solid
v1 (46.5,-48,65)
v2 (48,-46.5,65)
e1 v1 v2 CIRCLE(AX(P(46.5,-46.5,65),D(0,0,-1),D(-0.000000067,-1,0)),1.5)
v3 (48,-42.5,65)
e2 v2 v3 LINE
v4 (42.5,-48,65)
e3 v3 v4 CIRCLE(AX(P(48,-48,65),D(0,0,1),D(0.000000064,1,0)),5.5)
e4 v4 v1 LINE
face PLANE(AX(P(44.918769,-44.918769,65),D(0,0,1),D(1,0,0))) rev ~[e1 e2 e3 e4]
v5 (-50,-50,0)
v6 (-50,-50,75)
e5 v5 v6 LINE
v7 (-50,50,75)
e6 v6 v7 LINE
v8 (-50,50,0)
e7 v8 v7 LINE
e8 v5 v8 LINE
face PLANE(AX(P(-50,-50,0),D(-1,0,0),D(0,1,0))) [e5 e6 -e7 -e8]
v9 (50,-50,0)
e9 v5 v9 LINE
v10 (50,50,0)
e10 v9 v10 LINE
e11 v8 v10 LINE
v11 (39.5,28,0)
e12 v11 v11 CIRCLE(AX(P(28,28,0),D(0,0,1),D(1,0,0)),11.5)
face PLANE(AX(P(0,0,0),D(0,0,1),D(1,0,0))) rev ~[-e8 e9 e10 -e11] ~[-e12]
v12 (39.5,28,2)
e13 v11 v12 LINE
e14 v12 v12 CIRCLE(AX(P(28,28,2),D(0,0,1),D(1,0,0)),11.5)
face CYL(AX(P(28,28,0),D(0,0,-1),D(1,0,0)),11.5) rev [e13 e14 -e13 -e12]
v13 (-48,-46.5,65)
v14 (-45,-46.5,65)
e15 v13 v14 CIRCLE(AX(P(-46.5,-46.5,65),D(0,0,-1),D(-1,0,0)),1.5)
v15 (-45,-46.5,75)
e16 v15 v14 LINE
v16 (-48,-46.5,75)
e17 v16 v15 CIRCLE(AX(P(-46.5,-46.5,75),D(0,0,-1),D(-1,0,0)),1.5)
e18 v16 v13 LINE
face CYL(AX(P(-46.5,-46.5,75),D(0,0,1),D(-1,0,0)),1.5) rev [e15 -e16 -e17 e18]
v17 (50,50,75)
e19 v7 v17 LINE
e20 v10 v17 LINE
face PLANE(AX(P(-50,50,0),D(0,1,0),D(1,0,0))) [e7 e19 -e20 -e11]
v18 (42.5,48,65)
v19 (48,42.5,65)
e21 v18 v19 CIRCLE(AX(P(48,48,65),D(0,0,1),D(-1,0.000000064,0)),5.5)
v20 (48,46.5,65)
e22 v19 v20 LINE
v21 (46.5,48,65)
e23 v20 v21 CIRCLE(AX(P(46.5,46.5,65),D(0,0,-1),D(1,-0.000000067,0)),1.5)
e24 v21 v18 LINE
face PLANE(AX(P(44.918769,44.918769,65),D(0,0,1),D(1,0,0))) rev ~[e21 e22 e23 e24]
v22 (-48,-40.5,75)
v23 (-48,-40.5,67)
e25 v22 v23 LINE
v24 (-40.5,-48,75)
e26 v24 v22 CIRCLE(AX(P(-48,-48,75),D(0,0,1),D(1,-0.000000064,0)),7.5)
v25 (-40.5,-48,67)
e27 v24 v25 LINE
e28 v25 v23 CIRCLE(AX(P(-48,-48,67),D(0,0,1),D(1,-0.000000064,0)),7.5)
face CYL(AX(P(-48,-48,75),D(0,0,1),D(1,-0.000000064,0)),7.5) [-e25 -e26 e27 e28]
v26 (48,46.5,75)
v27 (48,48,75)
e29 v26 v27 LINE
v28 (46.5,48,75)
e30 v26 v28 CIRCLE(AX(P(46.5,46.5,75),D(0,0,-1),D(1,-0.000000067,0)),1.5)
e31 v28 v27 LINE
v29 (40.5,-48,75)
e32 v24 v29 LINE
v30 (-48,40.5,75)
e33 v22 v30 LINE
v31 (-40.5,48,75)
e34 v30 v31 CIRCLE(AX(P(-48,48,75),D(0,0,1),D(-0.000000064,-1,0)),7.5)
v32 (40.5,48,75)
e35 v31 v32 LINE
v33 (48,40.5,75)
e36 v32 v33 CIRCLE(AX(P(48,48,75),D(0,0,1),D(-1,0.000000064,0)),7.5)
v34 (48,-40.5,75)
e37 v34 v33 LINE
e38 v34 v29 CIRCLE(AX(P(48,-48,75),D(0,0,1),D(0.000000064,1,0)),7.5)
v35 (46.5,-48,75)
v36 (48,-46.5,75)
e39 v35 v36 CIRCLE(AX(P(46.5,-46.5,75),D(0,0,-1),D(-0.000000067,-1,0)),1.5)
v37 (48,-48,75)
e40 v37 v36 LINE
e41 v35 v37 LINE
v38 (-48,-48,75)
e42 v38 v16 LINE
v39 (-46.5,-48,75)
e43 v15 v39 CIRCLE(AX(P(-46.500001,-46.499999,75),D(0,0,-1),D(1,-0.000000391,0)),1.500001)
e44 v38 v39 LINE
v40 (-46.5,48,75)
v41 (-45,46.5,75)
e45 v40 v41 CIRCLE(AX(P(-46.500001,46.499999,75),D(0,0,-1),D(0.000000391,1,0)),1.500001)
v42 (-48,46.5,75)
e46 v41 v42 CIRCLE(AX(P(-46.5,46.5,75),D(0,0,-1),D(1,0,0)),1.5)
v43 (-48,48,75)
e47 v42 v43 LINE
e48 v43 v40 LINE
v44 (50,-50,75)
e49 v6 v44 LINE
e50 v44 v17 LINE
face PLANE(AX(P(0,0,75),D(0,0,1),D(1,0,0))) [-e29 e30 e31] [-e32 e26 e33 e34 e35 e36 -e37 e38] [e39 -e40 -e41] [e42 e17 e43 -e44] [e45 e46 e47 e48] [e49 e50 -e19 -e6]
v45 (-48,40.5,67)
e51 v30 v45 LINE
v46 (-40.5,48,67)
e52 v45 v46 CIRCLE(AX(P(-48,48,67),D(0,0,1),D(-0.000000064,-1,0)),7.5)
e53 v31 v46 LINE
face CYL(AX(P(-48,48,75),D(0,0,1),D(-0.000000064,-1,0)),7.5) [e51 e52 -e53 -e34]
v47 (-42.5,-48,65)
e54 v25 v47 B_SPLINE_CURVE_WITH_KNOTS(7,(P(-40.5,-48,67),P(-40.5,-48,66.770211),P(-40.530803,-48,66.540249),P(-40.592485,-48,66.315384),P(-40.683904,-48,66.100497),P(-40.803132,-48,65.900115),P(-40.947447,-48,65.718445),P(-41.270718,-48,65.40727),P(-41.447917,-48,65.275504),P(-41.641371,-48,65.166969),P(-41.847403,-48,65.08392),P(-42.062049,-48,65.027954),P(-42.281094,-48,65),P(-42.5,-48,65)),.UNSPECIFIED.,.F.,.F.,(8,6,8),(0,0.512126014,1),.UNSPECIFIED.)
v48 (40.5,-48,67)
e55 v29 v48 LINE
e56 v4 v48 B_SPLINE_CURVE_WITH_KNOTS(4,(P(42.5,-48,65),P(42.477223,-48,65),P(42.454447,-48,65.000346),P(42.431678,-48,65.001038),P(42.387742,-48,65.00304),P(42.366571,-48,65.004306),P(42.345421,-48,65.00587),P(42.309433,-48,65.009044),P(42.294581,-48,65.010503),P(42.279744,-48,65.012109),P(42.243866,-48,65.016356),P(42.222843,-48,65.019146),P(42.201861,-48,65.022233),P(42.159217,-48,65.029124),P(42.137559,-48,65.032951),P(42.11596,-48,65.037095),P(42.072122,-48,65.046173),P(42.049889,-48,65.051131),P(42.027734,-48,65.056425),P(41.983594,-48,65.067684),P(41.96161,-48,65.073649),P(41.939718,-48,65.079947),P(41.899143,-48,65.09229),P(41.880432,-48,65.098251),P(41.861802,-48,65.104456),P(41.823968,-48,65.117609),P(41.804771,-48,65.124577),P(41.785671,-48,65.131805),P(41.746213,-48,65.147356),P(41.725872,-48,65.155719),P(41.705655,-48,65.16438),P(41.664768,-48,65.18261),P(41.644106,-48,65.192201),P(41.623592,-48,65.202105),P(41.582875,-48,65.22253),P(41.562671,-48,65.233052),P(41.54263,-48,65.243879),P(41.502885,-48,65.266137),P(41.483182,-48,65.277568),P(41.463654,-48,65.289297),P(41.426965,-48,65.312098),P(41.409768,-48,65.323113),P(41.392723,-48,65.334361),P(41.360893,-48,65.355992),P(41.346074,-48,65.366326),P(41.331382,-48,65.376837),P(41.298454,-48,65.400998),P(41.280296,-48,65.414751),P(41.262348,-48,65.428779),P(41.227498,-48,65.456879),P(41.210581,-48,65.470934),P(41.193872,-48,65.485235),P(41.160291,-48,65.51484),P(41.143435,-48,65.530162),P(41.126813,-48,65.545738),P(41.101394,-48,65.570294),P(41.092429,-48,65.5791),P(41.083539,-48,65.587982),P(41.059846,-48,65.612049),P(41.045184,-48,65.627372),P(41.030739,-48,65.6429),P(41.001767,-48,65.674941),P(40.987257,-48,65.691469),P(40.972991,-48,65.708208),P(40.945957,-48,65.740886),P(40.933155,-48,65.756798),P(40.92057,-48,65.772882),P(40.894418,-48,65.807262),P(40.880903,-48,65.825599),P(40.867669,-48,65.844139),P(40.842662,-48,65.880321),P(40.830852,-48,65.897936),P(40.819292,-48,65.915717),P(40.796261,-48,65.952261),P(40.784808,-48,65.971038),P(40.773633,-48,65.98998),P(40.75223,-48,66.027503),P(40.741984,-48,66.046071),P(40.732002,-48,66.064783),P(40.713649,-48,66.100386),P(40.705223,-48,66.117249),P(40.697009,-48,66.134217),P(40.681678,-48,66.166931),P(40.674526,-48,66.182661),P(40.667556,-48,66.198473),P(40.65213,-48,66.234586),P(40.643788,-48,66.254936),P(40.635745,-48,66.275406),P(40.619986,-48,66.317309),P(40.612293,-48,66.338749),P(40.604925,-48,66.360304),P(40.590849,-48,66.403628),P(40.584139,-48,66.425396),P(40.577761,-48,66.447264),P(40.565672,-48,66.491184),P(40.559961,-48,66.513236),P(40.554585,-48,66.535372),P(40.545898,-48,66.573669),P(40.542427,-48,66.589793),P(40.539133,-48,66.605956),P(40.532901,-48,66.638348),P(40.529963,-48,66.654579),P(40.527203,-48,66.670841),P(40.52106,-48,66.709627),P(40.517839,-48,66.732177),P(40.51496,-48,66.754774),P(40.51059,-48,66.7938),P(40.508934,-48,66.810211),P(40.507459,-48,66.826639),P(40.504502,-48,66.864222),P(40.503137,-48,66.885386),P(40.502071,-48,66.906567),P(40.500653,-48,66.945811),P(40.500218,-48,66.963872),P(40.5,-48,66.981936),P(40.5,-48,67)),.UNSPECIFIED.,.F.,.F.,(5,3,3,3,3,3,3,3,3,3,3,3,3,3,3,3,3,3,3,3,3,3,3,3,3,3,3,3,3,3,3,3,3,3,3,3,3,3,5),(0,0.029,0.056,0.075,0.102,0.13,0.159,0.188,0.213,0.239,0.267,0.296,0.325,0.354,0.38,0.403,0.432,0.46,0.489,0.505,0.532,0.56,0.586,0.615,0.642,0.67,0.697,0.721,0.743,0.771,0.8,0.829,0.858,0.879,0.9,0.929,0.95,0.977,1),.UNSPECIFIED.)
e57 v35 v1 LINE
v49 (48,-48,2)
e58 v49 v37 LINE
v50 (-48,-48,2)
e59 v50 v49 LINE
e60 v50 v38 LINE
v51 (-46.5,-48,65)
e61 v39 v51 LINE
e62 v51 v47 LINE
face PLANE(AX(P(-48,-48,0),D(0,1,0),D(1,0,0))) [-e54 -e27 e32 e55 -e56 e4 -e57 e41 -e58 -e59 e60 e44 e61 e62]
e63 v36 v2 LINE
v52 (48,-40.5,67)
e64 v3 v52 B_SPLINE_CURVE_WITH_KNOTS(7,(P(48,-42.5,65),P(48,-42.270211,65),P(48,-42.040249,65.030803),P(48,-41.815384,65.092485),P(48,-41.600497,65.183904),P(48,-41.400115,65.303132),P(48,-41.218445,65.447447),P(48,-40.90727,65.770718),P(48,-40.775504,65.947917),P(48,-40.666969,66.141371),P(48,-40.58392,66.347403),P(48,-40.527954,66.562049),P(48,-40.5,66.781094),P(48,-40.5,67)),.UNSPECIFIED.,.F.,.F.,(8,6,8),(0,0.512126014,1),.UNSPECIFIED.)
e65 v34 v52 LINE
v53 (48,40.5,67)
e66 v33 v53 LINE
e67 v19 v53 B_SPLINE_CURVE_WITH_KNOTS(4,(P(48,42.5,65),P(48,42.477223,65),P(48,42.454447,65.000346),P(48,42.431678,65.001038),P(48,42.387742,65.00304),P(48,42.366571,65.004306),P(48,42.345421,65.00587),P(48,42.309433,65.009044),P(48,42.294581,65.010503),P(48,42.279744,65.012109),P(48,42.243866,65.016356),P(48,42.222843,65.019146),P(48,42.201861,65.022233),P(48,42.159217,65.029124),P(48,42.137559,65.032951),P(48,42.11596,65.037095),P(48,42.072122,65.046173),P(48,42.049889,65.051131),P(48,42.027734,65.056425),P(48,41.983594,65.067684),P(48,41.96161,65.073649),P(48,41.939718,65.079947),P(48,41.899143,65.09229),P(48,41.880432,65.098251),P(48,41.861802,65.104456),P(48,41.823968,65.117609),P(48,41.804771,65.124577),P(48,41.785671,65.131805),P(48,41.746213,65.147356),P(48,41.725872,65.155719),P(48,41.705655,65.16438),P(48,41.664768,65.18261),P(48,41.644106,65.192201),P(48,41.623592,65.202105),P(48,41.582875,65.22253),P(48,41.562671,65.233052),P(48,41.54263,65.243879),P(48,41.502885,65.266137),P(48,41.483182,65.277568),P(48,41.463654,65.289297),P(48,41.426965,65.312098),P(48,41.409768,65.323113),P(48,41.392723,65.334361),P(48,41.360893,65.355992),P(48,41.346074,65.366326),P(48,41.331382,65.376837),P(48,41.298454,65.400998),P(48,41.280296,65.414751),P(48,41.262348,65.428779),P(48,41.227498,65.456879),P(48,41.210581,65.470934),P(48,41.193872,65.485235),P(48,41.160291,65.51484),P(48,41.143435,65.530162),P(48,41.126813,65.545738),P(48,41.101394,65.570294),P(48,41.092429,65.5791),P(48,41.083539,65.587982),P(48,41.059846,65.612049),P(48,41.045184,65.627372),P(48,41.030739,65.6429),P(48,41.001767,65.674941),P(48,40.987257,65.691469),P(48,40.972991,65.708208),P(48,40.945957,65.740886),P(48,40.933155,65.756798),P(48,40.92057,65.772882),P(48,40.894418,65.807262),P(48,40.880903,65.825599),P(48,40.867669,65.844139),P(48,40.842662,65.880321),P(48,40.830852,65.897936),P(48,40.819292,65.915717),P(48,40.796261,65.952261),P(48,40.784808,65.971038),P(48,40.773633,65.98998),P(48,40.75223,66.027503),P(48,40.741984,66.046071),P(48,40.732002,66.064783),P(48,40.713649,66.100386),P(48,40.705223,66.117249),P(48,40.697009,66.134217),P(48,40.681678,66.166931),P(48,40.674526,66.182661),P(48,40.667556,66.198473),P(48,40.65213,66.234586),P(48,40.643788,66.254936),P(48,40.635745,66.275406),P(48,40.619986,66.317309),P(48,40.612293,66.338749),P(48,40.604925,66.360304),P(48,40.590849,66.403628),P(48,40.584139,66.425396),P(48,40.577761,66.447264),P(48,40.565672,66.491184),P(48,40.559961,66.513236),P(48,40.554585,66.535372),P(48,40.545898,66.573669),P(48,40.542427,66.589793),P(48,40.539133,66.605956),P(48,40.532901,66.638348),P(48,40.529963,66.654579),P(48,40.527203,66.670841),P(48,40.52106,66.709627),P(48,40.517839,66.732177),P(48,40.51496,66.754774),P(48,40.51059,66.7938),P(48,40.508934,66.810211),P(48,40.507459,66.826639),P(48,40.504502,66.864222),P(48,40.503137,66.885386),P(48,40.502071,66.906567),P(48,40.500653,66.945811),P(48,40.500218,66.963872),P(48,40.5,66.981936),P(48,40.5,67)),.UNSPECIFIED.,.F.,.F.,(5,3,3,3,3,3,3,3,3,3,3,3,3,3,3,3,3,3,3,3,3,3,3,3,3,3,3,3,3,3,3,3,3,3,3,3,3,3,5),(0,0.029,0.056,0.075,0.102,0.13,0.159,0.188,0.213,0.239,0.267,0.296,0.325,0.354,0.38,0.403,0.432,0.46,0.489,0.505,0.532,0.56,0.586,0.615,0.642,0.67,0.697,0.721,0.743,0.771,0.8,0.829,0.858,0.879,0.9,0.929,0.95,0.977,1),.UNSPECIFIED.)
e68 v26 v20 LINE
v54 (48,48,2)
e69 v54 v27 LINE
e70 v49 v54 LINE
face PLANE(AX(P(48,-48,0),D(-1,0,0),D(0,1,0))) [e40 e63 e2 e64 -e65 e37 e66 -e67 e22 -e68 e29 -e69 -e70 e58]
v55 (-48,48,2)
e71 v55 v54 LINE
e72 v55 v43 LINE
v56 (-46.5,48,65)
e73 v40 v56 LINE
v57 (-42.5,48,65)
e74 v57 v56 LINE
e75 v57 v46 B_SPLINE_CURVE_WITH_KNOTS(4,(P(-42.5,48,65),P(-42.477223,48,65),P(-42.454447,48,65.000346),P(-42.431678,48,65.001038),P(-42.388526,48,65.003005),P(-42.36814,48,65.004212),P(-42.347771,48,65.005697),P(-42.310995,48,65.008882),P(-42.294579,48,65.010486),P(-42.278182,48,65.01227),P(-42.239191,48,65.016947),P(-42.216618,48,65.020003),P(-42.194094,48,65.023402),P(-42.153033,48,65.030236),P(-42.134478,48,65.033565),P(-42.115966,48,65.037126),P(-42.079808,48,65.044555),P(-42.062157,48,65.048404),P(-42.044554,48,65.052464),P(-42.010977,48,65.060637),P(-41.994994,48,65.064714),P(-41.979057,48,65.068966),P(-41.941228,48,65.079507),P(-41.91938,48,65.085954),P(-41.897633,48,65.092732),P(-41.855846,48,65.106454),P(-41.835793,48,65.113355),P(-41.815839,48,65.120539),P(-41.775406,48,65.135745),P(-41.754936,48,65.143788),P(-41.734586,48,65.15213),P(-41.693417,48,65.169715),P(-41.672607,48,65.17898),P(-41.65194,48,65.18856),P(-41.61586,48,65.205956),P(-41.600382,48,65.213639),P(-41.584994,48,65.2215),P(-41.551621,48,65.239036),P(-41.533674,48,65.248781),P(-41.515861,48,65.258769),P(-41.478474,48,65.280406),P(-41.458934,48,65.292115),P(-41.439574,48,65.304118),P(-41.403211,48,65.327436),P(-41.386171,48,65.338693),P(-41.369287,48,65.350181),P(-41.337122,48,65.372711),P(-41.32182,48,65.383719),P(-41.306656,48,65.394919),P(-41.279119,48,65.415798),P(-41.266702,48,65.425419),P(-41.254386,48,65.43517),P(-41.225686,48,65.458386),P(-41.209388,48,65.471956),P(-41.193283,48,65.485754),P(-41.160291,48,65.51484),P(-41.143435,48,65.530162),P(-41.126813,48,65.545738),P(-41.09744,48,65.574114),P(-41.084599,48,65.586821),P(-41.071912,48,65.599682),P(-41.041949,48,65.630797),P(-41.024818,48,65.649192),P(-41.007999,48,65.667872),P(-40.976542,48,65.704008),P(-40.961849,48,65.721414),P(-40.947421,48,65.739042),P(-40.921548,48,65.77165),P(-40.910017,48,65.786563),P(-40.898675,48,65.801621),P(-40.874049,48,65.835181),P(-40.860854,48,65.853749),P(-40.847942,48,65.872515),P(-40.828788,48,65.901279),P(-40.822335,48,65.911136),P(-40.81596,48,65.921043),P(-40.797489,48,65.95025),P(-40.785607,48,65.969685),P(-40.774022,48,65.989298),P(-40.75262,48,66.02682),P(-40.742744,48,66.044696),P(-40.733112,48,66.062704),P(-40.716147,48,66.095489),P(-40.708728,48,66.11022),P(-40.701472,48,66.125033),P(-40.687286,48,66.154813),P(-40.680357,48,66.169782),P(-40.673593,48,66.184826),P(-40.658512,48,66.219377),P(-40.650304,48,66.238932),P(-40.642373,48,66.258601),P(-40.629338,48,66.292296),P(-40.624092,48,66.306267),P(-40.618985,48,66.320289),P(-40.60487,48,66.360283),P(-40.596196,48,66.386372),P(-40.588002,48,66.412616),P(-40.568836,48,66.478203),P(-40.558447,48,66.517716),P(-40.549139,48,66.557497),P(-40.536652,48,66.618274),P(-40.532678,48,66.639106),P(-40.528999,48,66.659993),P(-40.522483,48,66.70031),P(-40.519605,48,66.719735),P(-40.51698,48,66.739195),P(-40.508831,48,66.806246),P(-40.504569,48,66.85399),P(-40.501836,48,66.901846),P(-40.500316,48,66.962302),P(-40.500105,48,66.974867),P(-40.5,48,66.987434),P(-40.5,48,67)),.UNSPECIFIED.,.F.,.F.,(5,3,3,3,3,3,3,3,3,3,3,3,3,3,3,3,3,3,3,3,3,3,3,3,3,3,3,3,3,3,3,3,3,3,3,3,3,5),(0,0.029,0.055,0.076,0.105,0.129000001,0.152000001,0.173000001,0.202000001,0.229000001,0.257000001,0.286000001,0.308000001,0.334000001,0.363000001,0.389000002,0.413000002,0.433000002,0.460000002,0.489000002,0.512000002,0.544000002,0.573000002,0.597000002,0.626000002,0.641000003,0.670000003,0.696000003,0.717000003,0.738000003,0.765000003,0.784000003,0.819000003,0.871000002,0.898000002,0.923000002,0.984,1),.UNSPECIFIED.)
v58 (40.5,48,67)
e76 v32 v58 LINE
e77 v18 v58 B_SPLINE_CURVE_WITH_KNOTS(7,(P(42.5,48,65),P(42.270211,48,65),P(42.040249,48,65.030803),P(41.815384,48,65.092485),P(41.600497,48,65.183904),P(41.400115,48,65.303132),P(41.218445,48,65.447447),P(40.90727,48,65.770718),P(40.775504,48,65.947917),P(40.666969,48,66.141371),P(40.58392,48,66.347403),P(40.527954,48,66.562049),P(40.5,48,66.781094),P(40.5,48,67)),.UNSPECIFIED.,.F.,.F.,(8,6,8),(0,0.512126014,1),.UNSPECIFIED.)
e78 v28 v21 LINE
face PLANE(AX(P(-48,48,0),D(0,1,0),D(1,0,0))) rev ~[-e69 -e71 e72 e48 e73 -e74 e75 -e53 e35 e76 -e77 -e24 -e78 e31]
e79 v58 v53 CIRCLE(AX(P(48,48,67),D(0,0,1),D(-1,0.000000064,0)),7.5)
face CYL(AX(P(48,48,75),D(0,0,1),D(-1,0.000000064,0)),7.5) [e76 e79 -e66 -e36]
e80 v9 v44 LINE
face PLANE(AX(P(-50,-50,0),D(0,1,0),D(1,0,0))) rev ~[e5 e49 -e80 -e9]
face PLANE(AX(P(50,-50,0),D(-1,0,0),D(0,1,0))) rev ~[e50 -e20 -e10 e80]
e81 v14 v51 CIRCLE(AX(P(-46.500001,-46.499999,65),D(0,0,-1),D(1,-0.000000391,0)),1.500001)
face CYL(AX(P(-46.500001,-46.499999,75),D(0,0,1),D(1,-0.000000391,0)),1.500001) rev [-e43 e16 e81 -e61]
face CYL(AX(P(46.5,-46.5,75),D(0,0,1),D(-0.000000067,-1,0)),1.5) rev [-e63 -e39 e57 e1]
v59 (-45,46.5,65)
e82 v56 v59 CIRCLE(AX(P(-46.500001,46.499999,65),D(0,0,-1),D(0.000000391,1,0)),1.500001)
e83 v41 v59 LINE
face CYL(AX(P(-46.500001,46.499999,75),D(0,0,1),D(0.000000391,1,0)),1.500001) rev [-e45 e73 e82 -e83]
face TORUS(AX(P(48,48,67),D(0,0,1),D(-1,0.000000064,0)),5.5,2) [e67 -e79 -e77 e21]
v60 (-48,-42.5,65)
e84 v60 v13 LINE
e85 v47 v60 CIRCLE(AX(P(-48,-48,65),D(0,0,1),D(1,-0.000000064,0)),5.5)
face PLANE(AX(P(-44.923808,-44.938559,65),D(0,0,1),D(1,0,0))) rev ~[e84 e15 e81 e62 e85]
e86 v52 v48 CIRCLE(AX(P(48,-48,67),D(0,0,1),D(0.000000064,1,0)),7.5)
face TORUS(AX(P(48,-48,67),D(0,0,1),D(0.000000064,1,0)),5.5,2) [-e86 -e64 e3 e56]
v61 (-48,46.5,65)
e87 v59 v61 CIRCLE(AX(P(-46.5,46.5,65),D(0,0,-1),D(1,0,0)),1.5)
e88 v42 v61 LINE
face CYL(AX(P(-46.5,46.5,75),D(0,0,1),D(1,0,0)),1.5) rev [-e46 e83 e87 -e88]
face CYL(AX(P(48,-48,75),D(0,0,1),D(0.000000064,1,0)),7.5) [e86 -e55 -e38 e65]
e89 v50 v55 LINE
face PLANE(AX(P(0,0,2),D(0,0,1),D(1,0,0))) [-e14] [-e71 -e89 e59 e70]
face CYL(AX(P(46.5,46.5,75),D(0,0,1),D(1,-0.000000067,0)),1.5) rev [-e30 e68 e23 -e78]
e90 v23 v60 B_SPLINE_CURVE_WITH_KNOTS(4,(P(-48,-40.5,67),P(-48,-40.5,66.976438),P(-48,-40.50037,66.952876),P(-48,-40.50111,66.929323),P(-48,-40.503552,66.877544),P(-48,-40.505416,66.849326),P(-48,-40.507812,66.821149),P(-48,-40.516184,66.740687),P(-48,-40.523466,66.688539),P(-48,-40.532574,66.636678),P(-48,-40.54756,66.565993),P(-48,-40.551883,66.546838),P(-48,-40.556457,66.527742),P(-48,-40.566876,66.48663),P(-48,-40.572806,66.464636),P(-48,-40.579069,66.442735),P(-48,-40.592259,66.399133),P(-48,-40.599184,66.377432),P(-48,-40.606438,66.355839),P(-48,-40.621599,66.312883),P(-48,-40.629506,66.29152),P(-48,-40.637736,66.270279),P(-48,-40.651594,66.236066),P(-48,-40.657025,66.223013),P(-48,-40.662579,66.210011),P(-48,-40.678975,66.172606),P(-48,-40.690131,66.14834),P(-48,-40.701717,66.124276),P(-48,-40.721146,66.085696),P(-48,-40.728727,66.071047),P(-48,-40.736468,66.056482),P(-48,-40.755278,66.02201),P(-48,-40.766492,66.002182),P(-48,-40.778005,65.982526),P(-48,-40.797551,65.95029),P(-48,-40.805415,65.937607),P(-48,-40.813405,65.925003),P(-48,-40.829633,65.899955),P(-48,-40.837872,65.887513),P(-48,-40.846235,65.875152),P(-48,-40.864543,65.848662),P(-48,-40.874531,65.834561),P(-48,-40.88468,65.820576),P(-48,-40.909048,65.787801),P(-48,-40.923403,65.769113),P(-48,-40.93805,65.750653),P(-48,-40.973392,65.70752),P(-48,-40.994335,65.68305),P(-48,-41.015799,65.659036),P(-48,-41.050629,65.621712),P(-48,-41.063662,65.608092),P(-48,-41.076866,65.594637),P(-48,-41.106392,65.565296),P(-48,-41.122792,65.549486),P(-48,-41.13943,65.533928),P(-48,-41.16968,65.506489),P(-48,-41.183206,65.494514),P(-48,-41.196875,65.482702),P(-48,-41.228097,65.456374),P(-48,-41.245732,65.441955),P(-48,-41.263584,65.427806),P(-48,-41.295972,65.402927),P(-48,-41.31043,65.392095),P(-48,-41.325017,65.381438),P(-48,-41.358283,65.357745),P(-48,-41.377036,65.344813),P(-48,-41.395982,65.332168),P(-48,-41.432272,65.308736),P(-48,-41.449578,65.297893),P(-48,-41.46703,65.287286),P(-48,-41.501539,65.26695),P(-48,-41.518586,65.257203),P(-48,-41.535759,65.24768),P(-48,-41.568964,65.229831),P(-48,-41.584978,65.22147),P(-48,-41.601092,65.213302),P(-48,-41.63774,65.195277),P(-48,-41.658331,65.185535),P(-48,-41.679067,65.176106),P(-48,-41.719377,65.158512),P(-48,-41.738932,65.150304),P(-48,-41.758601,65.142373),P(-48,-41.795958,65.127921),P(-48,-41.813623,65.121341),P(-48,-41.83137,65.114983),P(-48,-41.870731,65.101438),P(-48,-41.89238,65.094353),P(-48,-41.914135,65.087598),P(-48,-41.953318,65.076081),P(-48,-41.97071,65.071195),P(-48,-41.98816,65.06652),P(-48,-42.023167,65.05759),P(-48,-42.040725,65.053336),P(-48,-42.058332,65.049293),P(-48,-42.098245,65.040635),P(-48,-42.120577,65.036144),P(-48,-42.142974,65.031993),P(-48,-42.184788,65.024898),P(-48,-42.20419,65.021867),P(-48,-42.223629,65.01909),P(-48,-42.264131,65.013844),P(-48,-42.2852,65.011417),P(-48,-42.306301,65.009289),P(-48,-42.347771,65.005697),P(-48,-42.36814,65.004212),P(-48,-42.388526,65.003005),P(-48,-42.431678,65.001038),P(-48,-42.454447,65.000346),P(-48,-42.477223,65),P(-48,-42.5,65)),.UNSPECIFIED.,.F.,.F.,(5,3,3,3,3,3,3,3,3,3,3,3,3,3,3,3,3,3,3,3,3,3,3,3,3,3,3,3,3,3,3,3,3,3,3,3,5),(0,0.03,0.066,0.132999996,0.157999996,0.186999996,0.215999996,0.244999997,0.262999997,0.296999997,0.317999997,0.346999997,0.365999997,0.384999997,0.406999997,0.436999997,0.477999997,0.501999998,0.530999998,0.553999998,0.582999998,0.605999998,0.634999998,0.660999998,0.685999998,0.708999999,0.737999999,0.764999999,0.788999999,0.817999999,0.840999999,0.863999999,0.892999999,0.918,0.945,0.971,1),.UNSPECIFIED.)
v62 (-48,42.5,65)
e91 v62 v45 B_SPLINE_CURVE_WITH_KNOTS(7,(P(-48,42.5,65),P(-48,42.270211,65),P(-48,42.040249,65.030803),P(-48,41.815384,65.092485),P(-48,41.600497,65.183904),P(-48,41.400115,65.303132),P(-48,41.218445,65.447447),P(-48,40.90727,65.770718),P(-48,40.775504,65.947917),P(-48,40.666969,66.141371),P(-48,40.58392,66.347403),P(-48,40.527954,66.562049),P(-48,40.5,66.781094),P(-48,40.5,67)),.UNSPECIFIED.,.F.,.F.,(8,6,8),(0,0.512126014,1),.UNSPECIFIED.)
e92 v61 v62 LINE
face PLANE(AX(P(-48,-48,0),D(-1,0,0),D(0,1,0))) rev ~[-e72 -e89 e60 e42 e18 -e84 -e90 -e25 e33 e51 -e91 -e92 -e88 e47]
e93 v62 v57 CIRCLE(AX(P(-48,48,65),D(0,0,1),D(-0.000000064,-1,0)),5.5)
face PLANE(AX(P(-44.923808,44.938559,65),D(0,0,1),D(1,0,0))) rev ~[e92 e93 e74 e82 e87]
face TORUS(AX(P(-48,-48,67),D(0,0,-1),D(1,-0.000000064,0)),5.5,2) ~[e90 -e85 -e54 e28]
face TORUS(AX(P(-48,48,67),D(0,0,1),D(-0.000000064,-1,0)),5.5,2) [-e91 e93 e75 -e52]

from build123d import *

# Parameters (mm, degrees)
F0_W     = 100
F0_H     = 100
F0_W_2   = 96
F0_H_2   = 96
F1_DEPTH = 75
F0_R     = 11.5
F2_DEPTH = 2
F4_DEPTH = 10
F5_R     = 2
F6_DEPTH = 10


with BuildPart() as f1:
    # F0 (on Top) → F1 (new body)
    with BuildSketch(Plane.XY):
        Rectangle(F0_W, F0_H)
        Rectangle(F0_W_2, F0_H_2, mode=Mode.SUBTRACT)
    extrude(amount=F1_DEPTH)

    # F0 (on Top) → F2 (join)
    with BuildSketch(Plane.XY):
        Rectangle(F0_W_2, F0_H_2)
        with Locations((28, 28)):
            Circle(F0_R, mode=Mode.SUBTRACT)
    extrude(amount=F2_DEPTH)

    # F3 (on face) → F4 (join)
    with BuildSketch(Plane.XY.offset(75)):
        with BuildLine():
            Line((46.5, 48), (40.5, 48))
            ThreePointArc((40.5, 48), (42.696699, 42.696699), (48, 40.5))
            Line((48, 40.5), (48, 46.5))
            ThreePointArc((48, 46.5), (45.43934, 45.43934), (46.5, 48))
        make_face()
        with BuildLine():
            Line((48, -46.5), (48, -40.5))
            ThreePointArc((48, -40.5), (42.696699, -42.696699), (40.5, -48))
            Line((40.5, -48), (46.5, -48))
            ThreePointArc((46.5, -48), (45.43934, -45.43934), (48, -46.5))
        make_face()
        with BuildLine():
            ThreePointArc((-40.5, -48), (-42.696699, -42.696699), (-48, -40.5))
            Line((-48, -40.5), (-48, -46.5))
            ThreePointArc((-48, -46.5), (-46.5, -45), (-45, -46.5))
            ThreePointArc((-45, -46.5), (-45.43934, -47.56066), (-46.5, -48))
            Line((-46.5, -48), (-40.5, -48))
        make_face()
        with BuildLine():
            ThreePointArc((-48, 40.5), (-42.696699, 42.696699), (-40.5, 48))
            Line((-40.5, 48), (-46.5, 48))
            ThreePointArc((-46.5, 48), (-45.43934, 47.56066), (-45, 46.5))
            ThreePointArc((-45, 46.5), (-46.5, 45), (-48, 46.5))
            Line((-48, 46.5), (-48, 40.5))
        make_face()
    extrude(amount=-F4_DEPTH)

    # F5
    f5_edges = [f1.edges().sort_by_distance(p)[0] for p in [
        (-42.696699, -42.696699, 65),
        (-42.696699, 42.696699, 65),
        (42.696699, 42.696699, 65),
        (42.696699, -42.696699, 65),
    ]]
    fillet(f5_edges, radius=F5_R)

    # F3 (on face) → F6 (cut)
    with BuildSketch(Plane.XY.offset(75)):
        with BuildLine():
            ThreePointArc((-45, 46.5), (-45.43934, 47.56066), (-46.5, 48))
            ThreePointArc((-46.5, 48), (-47.56066, 47.56066), (-48, 46.5))
            ThreePointArc((-48, 46.5), (-46.5, 45), (-45, 46.5))
        make_face()
        with BuildLine():
            ThreePointArc((48, 46.5), (47.56066, 47.56066), (46.5, 48))
            ThreePointArc((46.5, 48), (45.43934, 45.43934), (48, 46.5))
        make_face()
        with BuildLine():
            ThreePointArc((46.5, -48), (47.56066, -47.56066), (48, -46.5))
            ThreePointArc((48, -46.5), (45.43934, -45.43934), (46.5, -48))
        make_face()
        with BuildLine():
            ThreePointArc((-45, -46.5), (-46.5, -45), (-48, -46.5))
            ThreePointArc((-48, -46.5), (-47.56066, -47.56066), (-46.5, -48))
            ThreePointArc((-46.5, -48), (-45.43934, -47.56066), (-45, -46.5))
        make_face()
    extrude(amount=-F6_DEPTH, mode=Mode.SUBTRACT)


solid = f1.part
